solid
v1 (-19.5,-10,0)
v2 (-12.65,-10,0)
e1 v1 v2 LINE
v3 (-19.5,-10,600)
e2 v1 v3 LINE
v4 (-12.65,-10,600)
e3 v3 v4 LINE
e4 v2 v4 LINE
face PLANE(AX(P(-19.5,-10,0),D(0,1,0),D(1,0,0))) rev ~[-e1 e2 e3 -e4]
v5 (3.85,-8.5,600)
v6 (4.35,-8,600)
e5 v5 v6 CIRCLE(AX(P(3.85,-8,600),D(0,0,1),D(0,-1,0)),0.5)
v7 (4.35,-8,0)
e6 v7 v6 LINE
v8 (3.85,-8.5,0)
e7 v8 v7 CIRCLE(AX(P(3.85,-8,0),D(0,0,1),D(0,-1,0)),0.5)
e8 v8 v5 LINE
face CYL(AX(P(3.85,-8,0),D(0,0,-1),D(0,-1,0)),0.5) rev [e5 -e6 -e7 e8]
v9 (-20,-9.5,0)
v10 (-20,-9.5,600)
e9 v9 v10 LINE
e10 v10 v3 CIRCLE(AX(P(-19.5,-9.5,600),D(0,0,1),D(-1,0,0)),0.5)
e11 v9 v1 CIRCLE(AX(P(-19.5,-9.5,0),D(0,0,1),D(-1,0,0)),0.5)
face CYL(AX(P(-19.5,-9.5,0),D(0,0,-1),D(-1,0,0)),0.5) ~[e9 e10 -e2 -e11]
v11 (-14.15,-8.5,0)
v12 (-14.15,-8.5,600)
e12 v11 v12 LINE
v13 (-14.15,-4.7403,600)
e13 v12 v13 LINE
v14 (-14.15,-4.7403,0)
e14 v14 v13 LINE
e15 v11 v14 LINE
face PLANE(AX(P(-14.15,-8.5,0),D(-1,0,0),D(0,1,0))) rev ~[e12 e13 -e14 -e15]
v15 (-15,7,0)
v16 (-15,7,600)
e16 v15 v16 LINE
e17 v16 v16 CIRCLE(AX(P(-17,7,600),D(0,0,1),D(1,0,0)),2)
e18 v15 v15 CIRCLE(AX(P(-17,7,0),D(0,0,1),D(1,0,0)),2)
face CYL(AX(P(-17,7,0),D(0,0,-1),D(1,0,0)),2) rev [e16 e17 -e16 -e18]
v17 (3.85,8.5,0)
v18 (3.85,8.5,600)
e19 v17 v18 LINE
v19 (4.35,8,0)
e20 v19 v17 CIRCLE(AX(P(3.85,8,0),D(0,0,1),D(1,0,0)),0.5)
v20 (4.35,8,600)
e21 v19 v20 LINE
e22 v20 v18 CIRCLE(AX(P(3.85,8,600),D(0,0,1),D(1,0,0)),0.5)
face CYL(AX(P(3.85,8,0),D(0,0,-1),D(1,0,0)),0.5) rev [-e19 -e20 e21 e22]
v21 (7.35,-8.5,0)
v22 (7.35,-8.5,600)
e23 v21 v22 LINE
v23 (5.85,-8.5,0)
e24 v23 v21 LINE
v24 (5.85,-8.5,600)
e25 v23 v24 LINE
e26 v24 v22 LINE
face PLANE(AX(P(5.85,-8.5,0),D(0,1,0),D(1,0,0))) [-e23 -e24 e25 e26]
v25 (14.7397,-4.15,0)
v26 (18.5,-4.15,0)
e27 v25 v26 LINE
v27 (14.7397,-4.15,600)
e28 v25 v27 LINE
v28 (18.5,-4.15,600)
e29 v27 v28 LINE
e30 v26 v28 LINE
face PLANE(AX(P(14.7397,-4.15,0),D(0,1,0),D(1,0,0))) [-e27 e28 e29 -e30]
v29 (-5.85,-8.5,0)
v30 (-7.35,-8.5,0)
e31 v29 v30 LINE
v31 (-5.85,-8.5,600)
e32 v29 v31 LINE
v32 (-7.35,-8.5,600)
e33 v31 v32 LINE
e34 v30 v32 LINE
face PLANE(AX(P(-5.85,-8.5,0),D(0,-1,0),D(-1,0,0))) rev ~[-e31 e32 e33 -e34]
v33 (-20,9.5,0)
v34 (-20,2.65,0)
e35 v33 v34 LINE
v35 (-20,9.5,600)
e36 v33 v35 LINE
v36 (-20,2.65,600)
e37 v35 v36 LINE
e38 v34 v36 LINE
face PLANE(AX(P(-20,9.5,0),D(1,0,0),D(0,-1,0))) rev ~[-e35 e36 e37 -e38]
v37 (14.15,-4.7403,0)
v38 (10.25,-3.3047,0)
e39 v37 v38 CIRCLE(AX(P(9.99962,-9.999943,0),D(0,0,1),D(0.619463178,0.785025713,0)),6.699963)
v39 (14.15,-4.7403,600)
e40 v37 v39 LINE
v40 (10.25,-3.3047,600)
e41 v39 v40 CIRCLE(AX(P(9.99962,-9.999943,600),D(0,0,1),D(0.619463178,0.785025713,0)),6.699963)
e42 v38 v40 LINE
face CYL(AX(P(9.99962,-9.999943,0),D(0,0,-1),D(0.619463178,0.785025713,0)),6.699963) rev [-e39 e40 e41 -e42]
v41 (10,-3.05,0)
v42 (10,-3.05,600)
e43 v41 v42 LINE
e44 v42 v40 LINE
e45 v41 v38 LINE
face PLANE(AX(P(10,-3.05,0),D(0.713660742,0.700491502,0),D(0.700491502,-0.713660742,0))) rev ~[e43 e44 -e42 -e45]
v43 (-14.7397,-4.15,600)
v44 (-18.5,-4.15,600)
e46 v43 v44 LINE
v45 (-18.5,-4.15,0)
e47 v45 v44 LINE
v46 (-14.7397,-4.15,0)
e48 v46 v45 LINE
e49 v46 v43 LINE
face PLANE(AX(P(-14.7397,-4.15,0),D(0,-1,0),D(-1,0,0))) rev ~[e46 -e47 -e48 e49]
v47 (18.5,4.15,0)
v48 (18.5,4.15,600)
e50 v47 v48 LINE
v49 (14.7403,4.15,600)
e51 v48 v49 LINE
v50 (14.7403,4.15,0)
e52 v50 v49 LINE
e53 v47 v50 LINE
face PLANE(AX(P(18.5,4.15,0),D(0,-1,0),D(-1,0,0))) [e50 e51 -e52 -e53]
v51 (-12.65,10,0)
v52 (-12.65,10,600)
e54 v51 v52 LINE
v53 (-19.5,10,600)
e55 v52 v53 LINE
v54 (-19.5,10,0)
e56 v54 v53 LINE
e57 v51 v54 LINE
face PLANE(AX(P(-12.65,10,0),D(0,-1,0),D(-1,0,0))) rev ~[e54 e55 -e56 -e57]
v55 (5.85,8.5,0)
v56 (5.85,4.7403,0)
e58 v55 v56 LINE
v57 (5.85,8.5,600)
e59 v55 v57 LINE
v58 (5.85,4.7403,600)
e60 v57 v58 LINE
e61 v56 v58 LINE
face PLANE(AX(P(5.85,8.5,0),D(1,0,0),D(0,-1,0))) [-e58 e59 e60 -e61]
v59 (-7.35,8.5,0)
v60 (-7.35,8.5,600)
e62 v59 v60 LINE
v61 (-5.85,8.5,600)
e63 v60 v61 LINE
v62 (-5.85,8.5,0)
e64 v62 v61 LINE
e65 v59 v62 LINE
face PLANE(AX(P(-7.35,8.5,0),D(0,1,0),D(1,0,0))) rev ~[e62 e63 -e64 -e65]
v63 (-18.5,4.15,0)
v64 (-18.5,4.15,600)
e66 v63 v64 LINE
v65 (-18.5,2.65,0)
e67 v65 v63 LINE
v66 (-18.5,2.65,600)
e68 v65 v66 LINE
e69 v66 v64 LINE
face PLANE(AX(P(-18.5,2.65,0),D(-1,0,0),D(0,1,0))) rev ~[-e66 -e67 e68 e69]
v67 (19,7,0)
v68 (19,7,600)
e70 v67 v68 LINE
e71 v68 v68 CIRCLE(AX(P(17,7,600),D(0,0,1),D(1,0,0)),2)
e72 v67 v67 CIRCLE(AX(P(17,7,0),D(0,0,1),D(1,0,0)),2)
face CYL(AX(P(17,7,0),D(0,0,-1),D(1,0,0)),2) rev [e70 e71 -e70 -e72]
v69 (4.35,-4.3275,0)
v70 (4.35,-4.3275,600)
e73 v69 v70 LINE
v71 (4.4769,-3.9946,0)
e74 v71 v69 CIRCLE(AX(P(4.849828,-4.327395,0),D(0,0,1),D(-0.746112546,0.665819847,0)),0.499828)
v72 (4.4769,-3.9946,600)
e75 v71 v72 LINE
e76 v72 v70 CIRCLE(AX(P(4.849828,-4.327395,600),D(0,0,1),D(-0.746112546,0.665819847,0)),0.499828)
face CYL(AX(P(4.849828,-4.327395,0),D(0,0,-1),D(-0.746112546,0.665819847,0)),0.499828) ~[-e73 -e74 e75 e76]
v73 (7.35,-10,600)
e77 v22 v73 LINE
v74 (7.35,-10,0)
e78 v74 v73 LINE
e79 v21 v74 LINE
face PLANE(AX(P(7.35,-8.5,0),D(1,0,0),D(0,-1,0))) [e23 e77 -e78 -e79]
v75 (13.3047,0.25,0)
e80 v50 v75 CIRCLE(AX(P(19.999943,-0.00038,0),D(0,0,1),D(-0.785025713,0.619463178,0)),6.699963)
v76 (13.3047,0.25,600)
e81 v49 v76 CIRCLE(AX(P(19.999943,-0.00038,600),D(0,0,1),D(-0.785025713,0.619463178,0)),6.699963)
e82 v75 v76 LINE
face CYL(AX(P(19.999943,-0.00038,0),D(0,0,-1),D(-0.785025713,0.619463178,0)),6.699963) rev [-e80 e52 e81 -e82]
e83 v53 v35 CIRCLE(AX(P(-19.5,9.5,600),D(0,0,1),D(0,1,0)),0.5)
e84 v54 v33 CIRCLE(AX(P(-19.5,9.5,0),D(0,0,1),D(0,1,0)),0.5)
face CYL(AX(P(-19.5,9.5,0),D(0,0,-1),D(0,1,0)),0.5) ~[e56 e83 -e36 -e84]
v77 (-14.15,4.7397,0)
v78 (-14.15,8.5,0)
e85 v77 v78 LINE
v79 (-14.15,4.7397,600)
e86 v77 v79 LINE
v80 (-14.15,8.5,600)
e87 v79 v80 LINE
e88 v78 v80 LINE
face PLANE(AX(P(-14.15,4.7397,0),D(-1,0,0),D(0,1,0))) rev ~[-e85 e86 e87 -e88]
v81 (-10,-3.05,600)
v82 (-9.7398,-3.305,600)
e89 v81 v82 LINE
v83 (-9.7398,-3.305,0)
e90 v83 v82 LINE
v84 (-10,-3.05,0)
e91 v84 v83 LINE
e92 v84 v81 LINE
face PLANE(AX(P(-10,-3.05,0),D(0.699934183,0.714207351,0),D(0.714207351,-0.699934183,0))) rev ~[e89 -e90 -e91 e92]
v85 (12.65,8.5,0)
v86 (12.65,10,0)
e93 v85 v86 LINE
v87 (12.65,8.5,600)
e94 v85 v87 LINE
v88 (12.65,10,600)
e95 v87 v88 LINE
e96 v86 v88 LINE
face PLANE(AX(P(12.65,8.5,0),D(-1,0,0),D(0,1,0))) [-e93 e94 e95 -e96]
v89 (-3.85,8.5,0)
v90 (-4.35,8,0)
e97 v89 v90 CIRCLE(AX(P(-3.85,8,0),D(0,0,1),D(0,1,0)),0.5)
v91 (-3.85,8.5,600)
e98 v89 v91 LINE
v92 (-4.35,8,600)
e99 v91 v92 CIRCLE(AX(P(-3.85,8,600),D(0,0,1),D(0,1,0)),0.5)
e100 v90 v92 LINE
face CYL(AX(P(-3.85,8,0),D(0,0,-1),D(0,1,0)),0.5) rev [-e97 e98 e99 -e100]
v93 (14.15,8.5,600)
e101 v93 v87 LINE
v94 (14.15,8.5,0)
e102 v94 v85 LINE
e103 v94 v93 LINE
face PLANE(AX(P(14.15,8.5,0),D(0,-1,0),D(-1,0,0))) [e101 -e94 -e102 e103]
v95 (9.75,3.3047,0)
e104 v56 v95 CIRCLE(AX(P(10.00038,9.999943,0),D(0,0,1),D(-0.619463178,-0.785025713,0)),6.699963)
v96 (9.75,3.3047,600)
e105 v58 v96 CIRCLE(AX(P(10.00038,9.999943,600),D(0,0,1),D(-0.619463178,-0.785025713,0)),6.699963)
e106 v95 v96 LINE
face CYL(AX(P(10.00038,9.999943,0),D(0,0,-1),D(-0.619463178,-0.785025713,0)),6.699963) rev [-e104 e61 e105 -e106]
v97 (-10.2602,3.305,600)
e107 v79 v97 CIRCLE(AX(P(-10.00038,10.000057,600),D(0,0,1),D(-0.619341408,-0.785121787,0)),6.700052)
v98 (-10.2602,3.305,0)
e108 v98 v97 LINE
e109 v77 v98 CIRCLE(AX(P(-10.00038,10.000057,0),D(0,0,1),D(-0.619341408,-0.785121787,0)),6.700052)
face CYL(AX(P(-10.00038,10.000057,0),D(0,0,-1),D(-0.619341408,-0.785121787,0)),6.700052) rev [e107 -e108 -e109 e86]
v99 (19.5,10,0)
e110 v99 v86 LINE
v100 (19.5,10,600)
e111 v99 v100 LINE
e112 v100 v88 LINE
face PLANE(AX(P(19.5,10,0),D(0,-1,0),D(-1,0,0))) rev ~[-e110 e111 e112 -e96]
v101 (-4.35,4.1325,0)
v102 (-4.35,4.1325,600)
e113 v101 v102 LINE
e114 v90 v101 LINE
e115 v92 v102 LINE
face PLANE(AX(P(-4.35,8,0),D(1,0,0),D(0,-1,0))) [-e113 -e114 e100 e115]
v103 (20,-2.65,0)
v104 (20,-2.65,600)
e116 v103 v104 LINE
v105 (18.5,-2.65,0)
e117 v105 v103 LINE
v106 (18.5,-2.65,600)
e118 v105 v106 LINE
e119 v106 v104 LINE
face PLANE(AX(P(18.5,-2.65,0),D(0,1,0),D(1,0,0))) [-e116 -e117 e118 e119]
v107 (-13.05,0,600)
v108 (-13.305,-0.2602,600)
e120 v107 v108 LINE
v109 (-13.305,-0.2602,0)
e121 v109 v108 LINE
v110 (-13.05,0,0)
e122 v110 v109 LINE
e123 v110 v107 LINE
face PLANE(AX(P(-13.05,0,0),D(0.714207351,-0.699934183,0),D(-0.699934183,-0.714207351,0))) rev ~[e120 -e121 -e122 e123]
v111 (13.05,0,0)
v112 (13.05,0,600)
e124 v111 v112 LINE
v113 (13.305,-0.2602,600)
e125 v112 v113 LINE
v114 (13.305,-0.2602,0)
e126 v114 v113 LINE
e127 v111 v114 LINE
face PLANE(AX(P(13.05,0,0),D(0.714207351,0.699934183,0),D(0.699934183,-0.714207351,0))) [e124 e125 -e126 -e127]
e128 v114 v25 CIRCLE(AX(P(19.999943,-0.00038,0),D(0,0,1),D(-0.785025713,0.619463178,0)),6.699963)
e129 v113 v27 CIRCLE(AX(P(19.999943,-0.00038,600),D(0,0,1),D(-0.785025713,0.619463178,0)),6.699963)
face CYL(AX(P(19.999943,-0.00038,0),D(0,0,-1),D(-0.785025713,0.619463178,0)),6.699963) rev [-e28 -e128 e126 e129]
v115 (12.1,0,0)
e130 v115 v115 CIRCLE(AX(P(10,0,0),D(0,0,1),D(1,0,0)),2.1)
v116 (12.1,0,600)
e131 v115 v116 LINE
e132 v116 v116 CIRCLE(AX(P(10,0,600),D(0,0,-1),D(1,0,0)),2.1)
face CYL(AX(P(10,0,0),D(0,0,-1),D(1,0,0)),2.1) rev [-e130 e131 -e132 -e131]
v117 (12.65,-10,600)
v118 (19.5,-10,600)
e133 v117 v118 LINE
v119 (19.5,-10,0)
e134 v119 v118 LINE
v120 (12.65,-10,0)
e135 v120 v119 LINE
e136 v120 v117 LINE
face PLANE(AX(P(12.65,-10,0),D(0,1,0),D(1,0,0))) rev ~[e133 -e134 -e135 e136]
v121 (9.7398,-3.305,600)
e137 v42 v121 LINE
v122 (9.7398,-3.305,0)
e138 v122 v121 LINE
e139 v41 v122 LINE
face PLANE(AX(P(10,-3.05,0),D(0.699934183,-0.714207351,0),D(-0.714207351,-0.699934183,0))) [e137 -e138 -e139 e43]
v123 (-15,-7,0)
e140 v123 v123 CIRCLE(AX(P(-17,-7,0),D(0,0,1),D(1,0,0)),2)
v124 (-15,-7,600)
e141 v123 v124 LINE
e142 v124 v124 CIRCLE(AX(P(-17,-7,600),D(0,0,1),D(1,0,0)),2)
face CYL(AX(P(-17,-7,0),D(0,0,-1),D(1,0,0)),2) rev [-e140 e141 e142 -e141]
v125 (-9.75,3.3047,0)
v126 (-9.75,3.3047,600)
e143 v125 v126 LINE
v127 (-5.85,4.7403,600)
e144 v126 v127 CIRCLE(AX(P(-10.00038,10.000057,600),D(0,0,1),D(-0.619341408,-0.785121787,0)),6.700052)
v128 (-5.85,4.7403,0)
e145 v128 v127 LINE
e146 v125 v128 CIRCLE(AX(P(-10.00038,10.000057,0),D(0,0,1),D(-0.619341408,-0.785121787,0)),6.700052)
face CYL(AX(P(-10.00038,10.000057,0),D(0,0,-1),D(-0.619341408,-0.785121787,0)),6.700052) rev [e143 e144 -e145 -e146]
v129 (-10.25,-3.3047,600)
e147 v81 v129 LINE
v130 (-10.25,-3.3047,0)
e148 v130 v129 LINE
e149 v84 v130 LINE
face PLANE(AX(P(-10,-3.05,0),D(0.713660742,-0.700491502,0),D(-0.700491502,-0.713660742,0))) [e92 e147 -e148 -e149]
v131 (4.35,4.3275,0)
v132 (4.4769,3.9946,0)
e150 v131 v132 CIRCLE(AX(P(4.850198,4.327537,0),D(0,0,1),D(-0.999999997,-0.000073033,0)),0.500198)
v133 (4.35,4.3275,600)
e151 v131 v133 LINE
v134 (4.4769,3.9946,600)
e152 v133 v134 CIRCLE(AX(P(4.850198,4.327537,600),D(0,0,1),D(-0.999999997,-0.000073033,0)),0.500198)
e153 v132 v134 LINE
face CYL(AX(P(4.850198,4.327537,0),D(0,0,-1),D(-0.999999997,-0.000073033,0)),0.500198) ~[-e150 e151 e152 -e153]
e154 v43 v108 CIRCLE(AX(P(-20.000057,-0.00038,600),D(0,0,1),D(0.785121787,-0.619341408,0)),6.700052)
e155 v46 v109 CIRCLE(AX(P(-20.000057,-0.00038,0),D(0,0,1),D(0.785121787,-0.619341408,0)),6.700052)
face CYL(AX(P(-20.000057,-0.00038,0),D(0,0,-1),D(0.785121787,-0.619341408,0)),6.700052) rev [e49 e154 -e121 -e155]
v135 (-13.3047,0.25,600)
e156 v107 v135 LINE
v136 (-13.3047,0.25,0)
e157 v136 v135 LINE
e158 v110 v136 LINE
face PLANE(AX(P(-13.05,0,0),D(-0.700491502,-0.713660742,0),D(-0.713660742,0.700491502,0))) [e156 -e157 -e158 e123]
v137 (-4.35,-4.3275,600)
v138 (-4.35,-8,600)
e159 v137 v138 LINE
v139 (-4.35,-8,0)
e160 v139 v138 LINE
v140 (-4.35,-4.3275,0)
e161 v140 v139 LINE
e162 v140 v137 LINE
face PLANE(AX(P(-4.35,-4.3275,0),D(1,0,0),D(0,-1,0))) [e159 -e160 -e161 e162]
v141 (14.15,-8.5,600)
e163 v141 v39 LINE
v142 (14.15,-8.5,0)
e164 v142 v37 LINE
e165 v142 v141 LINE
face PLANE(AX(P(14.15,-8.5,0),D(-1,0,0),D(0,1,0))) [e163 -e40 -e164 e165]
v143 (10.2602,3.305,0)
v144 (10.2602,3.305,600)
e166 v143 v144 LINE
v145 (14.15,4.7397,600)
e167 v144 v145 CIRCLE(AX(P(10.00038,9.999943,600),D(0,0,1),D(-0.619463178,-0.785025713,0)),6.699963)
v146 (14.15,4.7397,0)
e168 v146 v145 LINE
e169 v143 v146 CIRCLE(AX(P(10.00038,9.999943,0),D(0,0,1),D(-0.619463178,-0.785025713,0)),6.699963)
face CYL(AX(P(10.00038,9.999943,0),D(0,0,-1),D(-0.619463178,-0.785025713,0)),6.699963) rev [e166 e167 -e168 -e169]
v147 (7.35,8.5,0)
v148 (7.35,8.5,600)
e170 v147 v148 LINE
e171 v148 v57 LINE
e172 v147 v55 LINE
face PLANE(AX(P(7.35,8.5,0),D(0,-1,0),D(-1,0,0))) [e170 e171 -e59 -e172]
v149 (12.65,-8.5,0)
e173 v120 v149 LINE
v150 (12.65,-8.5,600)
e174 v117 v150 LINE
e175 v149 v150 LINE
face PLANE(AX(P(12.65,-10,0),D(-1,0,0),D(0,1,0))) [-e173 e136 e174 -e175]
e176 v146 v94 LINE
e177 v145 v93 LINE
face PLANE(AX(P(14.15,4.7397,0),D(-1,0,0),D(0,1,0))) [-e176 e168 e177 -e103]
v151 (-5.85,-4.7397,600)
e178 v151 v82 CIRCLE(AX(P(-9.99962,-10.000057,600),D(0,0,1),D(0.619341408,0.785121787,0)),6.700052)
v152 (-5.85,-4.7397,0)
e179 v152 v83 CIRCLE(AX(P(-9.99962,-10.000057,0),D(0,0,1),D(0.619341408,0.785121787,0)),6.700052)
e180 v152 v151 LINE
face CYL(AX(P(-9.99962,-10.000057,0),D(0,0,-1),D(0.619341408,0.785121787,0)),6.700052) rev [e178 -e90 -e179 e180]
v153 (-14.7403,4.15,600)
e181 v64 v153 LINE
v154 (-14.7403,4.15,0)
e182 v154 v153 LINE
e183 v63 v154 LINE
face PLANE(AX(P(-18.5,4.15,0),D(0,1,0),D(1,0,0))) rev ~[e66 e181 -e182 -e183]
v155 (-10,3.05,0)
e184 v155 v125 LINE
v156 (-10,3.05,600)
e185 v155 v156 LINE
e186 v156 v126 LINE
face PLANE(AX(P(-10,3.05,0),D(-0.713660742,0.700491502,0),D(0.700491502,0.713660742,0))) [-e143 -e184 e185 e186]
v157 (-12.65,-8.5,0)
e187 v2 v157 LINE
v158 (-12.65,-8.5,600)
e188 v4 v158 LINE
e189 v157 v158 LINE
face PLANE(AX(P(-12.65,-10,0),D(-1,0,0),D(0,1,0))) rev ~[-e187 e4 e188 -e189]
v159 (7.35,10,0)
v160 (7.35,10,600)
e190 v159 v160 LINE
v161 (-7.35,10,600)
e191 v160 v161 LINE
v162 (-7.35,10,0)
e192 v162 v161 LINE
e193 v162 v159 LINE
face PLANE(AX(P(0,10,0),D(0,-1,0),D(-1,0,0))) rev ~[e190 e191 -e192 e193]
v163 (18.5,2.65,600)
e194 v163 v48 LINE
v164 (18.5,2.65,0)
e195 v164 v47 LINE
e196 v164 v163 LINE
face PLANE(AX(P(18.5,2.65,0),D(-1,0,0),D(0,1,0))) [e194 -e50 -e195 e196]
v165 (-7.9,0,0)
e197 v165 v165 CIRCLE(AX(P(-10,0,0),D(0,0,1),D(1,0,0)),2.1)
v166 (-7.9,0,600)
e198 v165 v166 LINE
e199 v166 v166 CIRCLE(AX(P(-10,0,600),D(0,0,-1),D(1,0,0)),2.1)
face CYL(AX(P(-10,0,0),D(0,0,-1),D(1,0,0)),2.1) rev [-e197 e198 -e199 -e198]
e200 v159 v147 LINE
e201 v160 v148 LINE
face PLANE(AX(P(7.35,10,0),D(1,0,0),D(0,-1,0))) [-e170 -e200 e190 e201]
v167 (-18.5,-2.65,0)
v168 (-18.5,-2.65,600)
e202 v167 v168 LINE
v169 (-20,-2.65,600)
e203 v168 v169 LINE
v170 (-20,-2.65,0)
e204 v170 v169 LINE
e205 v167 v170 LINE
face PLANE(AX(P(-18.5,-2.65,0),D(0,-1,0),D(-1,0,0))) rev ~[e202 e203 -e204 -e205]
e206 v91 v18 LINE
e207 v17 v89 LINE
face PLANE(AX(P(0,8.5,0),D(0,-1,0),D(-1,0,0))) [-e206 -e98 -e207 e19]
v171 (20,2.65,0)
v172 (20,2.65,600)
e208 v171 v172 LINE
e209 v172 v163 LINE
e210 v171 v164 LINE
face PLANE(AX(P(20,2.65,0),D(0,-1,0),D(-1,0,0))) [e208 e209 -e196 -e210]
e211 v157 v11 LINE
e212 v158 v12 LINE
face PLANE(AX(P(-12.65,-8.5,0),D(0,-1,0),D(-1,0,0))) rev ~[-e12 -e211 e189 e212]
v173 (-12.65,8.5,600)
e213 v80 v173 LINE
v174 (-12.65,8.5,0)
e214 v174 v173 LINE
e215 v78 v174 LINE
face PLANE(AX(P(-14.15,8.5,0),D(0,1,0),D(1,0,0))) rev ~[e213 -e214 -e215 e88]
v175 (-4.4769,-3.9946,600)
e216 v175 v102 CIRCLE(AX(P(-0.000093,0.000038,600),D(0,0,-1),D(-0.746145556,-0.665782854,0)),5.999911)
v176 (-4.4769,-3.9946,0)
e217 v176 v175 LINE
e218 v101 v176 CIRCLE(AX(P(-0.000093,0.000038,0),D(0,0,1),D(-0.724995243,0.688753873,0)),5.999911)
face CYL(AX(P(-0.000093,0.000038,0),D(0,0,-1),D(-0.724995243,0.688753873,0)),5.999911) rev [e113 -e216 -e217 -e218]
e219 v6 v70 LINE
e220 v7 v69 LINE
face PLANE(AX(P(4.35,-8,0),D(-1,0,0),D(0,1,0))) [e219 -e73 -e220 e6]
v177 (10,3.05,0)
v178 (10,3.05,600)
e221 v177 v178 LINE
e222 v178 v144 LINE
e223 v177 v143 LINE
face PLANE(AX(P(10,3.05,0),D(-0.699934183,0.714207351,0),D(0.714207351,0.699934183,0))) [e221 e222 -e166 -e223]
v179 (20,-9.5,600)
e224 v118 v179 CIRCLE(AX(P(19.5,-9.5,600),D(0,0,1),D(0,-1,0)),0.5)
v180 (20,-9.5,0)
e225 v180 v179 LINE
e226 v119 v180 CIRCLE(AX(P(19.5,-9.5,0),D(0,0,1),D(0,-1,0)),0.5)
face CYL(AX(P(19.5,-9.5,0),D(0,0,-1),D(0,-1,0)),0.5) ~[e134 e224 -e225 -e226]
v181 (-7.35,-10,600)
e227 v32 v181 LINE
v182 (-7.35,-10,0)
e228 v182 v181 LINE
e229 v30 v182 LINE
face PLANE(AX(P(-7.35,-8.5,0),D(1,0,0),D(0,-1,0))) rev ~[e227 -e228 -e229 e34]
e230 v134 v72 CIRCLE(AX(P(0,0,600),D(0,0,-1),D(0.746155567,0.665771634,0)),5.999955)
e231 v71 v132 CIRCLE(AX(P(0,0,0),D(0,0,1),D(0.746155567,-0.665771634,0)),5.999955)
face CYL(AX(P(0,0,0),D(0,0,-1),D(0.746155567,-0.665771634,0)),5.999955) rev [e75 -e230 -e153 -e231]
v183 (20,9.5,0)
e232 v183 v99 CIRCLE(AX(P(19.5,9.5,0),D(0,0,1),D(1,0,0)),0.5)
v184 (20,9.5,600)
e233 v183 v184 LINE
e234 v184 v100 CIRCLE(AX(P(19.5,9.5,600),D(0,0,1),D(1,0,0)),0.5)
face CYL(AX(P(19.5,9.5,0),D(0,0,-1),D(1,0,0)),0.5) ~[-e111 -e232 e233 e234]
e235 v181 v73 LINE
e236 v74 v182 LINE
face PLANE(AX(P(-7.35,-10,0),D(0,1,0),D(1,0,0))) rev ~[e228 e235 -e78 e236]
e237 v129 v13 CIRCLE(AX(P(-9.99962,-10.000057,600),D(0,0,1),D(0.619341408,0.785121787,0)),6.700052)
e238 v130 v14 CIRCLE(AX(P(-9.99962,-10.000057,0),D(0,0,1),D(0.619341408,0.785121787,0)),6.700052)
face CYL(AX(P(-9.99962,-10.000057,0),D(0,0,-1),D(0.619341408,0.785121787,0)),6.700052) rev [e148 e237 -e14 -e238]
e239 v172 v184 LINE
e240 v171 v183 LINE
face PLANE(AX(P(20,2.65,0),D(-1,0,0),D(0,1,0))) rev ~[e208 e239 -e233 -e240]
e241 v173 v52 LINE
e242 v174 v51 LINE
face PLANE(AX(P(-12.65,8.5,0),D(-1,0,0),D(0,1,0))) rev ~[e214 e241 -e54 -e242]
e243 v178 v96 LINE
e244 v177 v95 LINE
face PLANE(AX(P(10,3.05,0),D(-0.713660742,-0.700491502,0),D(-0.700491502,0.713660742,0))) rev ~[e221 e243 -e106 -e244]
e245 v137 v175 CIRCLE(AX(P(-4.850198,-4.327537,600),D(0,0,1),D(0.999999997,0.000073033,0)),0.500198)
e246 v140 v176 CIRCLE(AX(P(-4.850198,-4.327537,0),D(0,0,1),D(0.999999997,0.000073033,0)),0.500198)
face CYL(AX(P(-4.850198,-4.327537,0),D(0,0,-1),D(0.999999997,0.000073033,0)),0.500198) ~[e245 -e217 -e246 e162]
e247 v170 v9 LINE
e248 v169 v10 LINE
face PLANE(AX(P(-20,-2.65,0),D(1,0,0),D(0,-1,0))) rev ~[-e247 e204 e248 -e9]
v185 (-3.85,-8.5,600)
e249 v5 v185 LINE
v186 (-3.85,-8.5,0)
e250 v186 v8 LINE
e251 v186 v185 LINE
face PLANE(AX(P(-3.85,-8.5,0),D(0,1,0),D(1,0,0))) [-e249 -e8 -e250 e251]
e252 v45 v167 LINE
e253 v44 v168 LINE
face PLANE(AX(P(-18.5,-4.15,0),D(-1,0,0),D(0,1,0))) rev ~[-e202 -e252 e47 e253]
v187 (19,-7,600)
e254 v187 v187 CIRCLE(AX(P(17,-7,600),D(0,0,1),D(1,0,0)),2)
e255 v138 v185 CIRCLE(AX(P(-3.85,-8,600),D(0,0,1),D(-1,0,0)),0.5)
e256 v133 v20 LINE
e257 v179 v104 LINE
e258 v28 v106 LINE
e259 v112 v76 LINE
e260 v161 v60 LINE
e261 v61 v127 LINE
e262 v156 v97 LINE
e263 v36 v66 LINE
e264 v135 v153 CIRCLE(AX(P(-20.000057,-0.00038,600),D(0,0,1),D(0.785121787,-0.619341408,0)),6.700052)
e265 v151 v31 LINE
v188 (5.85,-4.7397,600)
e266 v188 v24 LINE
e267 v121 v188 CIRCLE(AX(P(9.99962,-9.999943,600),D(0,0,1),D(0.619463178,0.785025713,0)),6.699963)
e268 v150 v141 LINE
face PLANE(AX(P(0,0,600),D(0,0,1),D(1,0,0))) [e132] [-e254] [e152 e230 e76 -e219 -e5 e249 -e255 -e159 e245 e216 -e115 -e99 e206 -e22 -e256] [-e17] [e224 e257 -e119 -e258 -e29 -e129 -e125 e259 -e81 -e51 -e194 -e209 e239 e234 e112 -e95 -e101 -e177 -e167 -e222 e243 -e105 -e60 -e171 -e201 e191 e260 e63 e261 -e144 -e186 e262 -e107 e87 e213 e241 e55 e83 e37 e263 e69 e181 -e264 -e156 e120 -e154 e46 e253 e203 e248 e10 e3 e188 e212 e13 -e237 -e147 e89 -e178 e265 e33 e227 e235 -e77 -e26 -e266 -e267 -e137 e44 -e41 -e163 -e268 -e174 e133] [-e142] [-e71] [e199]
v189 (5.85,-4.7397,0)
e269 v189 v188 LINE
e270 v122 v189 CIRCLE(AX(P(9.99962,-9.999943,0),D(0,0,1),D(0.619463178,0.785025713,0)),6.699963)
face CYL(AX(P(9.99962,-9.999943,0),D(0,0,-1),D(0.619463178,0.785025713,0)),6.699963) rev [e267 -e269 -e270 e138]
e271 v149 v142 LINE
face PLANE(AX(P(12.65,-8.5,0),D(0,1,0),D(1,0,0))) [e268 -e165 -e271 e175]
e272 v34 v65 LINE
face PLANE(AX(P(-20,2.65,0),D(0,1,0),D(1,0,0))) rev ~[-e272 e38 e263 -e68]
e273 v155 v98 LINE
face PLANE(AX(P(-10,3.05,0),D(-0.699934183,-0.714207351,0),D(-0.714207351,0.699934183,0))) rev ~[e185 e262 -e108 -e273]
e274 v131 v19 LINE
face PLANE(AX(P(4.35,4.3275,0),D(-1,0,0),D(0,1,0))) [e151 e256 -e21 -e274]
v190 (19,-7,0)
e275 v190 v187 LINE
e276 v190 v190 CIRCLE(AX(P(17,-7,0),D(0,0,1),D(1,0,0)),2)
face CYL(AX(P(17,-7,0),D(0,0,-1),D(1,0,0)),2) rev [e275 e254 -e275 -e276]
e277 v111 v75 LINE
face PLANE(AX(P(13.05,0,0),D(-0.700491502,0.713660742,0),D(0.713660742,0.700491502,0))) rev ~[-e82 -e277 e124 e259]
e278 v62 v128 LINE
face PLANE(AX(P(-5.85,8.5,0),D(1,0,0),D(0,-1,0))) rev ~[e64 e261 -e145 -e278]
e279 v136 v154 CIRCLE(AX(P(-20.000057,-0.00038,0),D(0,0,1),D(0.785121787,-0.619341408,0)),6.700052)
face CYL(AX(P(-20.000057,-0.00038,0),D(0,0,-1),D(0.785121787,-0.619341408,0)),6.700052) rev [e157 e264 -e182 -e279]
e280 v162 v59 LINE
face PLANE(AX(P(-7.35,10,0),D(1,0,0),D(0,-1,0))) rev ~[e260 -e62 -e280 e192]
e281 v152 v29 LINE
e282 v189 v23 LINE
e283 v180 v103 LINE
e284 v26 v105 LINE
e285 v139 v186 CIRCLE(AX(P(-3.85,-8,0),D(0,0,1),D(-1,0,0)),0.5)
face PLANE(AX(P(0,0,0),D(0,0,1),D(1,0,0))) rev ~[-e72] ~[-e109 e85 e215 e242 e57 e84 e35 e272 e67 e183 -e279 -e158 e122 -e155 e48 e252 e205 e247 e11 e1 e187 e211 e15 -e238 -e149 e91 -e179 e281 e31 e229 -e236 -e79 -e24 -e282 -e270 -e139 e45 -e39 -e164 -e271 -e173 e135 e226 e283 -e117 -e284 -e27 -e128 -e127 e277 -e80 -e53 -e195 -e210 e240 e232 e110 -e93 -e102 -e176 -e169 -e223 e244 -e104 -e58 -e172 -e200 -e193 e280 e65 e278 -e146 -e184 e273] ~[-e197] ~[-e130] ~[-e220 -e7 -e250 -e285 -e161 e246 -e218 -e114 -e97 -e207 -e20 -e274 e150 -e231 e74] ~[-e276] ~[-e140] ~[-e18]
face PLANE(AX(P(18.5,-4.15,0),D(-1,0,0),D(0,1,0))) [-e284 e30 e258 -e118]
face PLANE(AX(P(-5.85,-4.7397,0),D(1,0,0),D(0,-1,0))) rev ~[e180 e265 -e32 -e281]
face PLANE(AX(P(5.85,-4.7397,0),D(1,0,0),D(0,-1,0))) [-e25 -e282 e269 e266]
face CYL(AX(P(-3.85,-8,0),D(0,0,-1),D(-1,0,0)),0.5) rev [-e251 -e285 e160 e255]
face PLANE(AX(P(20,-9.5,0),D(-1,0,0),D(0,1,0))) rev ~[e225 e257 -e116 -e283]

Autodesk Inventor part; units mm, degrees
ref_plane "YZ Plane" through (0, 0, 0) normal (1, 0, 0) x (0, 1, 0)
ref_plane "XZ Plane" through (0, 0, 0) normal (0, 1, 0) x (-1, 0, 0)
ref_plane "XY Plane" through (0, 0, 0) normal (0, 0, 1) x (1, 0, 0)
sketch "스케치1" plane through (0, 0, 0) normal (0, 0, 1) x (1, 0, 0)
  line L0 (-19.5, -10) -> (19.5, -10)
  line L1 (20, -9.5) -> (20, 9.5)
  line L2 (19.5, 10) -> (-19.5, 10)
  line L3 (-20, 9.5) -> (-20, -9.5)
  circle A0 centre (-17, 7) radius 2
  line L4 (0, -12.143) -> (0, 11.1651)
  line L5 (28.9925, 0) -> (-24.8769, 0)
  circle A1 centre (-10, 0) radius 2.1
  line L6 (-10, 12.7543) -> (-10, -12.5913)
  line L7 (10, -12.5913) -> (10, 12.7543)
  circle A2 centre (10, 0) radius 2.1
  line L8 (-12.65, -10) -> (-12.65, -8.5)
  line L9 (-12.65, -8.5) -> (-14.15, -8.5)
  line L10 (-14.15, -8.5) -> (-14.15, -4.7403)
  line L11 (-5.85, -4.7397) -> (-5.85, -8.5)
  line L12 (-5.85, -8.5) -> (-7.35, -8.5)
  line L13 (-7.35, -8.5) -> (-7.35, -10)
  arc A3 (-5.85, -4.7397) -> (-14.15, -4.7403) centre (-9.9996, -10) ccw
  line L14 (-10, -3.05) -> (-10.25, -3.3047)
  line L15 (-10, -3.05) -> (-9.7398, -3.305)
  line L16 (12.65, -10) -> (12.65, -8.5)
  line L17 (12.65, -8.5) -> (14.15, -8.5)
  line L18 (14.15, -8.5) -> (14.15, -4.7403)
  line L19 (5.85, -4.7397) -> (5.85, -8.5)
  line L20 (5.85, -8.5) -> (7.35, -8.5)
  line L21 (7.35, -8.5) -> (7.35, -10)
  arc A4 (14.15, -4.7403) -> (5.85, -4.7397) centre (9.9996, -10) ccw
  line L22 (10, -3.05) -> (10.25, -3.3047)
  line L23 (10, -3.05) -> (9.7398, -3.305)
  line L24 (-20, 2.65) -> (-18.5, 2.65)
  line L25 (-18.5, 2.65) -> (-18.5, 4.15)
  line L26 (-18.5, 4.15) -> (-14.7403, 4.15)
  line L27 (-14.7397, -4.15) -> (-18.5, -4.15)
  line L28 (-18.5, -4.15) -> (-18.5, -2.65)
  line L29 (-18.5, -2.65) -> (-20, -2.65)
  line L30 (-13.05, 0) -> (-13.305, -0.2602)
  line L31 (-13.05, 0) -> (-13.3047, 0.25)
  arc A5 (-14.7397, -4.15) -> (-14.7403, 4.15) centre (-20, -0.0004) ccw
  line L32 (-7.35, 10) -> (-7.35, 8.5)
  line L33 (-7.35, 8.5) -> (-5.85, 8.5)
  line L34 (-5.85, 8.5) -> (-5.85, 4.7403)
  line L35 (-14.15, 4.7397) -> (-14.15, 8.5)
  line L36 (-14.15, 8.5) -> (-12.65, 8.5)
  line L37 (-12.65, 8.5) -> (-12.65, 10)
  line L38 (-10, 3.05) -> (-10.2602, 3.305)
  line L39 (-10, 3.05) -> (-9.75, 3.3047)
  arc A6 (-14.15, 4.7397) -> (-5.85, 4.7403) centre (-10.0004, 10) ccw
  line L40 (14.7397, -4.15) -> (18.5, -4.15)
  line L41 (18.5, -4.15) -> (18.5, -2.65)
  line L42 (18.5, -2.65) -> (20, -2.65)
  arc A7 (14.7403, 4.15) -> (14.7397, -4.15) centre (20, -0.0004) ccw
  line L43 (20, 2.65) -> (18.5, 2.65)
  line L44 (18.5, 2.65) -> (18.5, 4.15)
  line L45 (18.5, 4.15) -> (14.7403, 4.15)
  line L46 (13.05, 0) -> (13.305, -0.2602)
  line L47 (13.05, 0) -> (13.3047, 0.25)
  line L48 (14.15, 4.7397) -> (14.15, 8.5)
  line L49 (14.15, 8.5) -> (12.65, 8.5)
  line L50 (12.65, 8.5) -> (12.65, 10)
  arc A8 (5.85, 4.7403) -> (14.15, 4.7397) centre (10.0004, 10) ccw
  line L51 (7.35, 10) -> (7.35, 8.5)
  line L52 (7.35, 8.5) -> (5.85, 8.5)
  line L53 (5.85, 8.5) -> (5.85, 4.7403)
  line L54 (10, 3.05) -> (10.2602, 3.305)
  line L55 (10, 3.05) -> (9.75, 3.3047)
  circle A9 centre (-17, -7) radius 2
  circle A10 centre (17, 7) radius 2
  circle A11 centre (17, -7) radius 2
  line L56 (-3.85, -8.5) -> (3.85, -8.5)
  line L57 (3.85, 8.5) -> (-3.85, 8.5)
  line L58 (-4.35, -8.5) -> (4.35, 8.5) construction
  line L59 (4.35, -8.5) -> (-4.35, 8.5) construction
  arc A12 (-3.85, 8.5) -> (-4.35, 8) centre (-3.85, 8) ccw
  arc A13 (4.35, 8) -> (3.85, 8.5) centre (3.85, 8) ccw
  arc A14 (3.85, -8.5) -> (4.35, -8) centre (3.85, -8) ccw
  arc A15 (-4.35, -8) -> (-3.85, -8.5) centre (-3.85, -8) ccw
  line L60 (-4.35, 8) -> (-4.35, 4.1325)
  line L61 (-4.35, -4.3275) -> (-4.35, -8)
  line L62 (4.35, -8) -> (4.35, -4.3275)
  line L63 (4.35, 4.3275) -> (4.35, 8)
  arc A16 (4.4769, -3.9946) -> (4.4769, 3.9946) centre (0, 0) ccw
  arc A17 (-4.35, 4.1325) -> (-4.4769, -3.9946) centre (0, 0) ccw
  arc A18 (-4.35, -4.3275) -> (-4.4769, -3.9946) centre (-4.85, -4.3275) ccw
  arc A19 (4.35, 4.3275) -> (4.4769, 3.9946) centre (4.85, 4.3275) ccw
  arc A20 (4.4769, -3.9946) -> (4.35, -4.3275) centre (4.85, -4.3275) ccw
  arc A21 (-19.5, 10) -> (-20, 9.5) centre (-19.5, 9.5) ccw
  arc A22 (-20, -9.5) -> (-19.5, -10) centre (-19.5, -9.5) ccw
  arc A23 (19.5, -10) -> (20, -9.5) centre (19.5, -9.5) ccw
  arc A24 (20, 9.5) -> (19.5, 10) centre (19.5, 9.5) ccw
  point P0 (20, 10)
  point P1 (20, -10)
  point P2 (-20, 10)
  point P3 (-14.15, -6.6202)
  point P4 (-12.65, -9.25)
  point P5 (-10.0001, -3.3)
  point P6 (14.15, -6.6202)
  point P7 (12.65, -9.25)
  point P8 (10.0001, -3.3)
  point P9 (-19.25, 2.65)
  point P10 (-16.6202, 4.15)
  point P11 (-13.3, 0.0001)
  point P12 (-7.35, 9.25)
  point P13 (-5.85, 6.6202)
  point P14 (-9.9999, 3.3)
  point P15 (13.3, 0.0001)
  point P16 (19.25, 2.65)
  point P17 (16.6202, 4.15)
  point P18 (22.5913, 0)
  point P19 (9.9999, 3.3)
  point P20 (7.35, 9.25)
  point P21 (5.85, 6.6202)
  point P22 (10, 12.5913)
  point P23 (-5.85, -6.6199)
  point P24 (-4.35, -4.1325)
  point P25 (4.35, -4.1325)
  point P26 (4.35, 4.1325)
  point P27 (4.35, 6.1638)
  point P28 (-4.35, 6.0662)
  dimension "d0" = 40
  dimension "d1" = 20
  dimension "d2" = 4
  dimension "d3" = 34
  dimension "d4" = 14
  dimension "d5" = 4.2
  dimension "d6" = 20
  dimension "d8" = 4.2
  dimension "d9" = 20
  dimension "d12" = 1.5
  dimension "d13" = 6.7
  dimension "d14" = 8.3
  dimension "d15" = 5.3
  dimension "d16" = 5.3
  dimension "d17" = 8.3
  dimension "d18" = 6.7
  dimension "d19" = 0.5
  dimension "d20" = 0.25
  dimension "d23" = 180
  dimension "d27" = 180
  dimension "d29" = 1.5
  dimension "d31" = 1.5
  dimension "d32" = 0.5
  dimension "d33" = 0.5
  dimension "d34" = 0.5
  dimension "d35" = 8.7
extrude "돌출1" add sketch "스케치1" along normal blind 600 contours A22 L3 L29 L28 L27 A5 L30 L5 A1 L6 L14 A3 L10 L9 L8 L0 | L13 L12 L11 A3 L15 L6 A1 L5 A17 A18 L61 A15 L56 L4 L0 | L4 L56 A14 L62 A20 A16 L5 A2 L7 L23 A4 L19 L20 L21 L0 | L3 A21 L2 L37 L36 L35 A6 L38 L6 A1 L5 L31 A5 L26 L25 L24 | A1 L6 L39 A6 L34 L33 L32 L2 L4 L57 A12 L60 A17 L5 | L16 L17 L18 A4 L22 L7 A2 L5 L46 A7 L40 L41 L42 L1 A23 L0 | L4 L2 L51 L52 L53 A8 L55 L7 A2 L5 A16 A19 L63 A13 L57 | L7 L54 A8 L48 L49 L50 L2 A24 L1 L43 L44 L45 A7 L47 L5 A2
equation "\"d8\" = d5"
properties part number "20x40 profile"
